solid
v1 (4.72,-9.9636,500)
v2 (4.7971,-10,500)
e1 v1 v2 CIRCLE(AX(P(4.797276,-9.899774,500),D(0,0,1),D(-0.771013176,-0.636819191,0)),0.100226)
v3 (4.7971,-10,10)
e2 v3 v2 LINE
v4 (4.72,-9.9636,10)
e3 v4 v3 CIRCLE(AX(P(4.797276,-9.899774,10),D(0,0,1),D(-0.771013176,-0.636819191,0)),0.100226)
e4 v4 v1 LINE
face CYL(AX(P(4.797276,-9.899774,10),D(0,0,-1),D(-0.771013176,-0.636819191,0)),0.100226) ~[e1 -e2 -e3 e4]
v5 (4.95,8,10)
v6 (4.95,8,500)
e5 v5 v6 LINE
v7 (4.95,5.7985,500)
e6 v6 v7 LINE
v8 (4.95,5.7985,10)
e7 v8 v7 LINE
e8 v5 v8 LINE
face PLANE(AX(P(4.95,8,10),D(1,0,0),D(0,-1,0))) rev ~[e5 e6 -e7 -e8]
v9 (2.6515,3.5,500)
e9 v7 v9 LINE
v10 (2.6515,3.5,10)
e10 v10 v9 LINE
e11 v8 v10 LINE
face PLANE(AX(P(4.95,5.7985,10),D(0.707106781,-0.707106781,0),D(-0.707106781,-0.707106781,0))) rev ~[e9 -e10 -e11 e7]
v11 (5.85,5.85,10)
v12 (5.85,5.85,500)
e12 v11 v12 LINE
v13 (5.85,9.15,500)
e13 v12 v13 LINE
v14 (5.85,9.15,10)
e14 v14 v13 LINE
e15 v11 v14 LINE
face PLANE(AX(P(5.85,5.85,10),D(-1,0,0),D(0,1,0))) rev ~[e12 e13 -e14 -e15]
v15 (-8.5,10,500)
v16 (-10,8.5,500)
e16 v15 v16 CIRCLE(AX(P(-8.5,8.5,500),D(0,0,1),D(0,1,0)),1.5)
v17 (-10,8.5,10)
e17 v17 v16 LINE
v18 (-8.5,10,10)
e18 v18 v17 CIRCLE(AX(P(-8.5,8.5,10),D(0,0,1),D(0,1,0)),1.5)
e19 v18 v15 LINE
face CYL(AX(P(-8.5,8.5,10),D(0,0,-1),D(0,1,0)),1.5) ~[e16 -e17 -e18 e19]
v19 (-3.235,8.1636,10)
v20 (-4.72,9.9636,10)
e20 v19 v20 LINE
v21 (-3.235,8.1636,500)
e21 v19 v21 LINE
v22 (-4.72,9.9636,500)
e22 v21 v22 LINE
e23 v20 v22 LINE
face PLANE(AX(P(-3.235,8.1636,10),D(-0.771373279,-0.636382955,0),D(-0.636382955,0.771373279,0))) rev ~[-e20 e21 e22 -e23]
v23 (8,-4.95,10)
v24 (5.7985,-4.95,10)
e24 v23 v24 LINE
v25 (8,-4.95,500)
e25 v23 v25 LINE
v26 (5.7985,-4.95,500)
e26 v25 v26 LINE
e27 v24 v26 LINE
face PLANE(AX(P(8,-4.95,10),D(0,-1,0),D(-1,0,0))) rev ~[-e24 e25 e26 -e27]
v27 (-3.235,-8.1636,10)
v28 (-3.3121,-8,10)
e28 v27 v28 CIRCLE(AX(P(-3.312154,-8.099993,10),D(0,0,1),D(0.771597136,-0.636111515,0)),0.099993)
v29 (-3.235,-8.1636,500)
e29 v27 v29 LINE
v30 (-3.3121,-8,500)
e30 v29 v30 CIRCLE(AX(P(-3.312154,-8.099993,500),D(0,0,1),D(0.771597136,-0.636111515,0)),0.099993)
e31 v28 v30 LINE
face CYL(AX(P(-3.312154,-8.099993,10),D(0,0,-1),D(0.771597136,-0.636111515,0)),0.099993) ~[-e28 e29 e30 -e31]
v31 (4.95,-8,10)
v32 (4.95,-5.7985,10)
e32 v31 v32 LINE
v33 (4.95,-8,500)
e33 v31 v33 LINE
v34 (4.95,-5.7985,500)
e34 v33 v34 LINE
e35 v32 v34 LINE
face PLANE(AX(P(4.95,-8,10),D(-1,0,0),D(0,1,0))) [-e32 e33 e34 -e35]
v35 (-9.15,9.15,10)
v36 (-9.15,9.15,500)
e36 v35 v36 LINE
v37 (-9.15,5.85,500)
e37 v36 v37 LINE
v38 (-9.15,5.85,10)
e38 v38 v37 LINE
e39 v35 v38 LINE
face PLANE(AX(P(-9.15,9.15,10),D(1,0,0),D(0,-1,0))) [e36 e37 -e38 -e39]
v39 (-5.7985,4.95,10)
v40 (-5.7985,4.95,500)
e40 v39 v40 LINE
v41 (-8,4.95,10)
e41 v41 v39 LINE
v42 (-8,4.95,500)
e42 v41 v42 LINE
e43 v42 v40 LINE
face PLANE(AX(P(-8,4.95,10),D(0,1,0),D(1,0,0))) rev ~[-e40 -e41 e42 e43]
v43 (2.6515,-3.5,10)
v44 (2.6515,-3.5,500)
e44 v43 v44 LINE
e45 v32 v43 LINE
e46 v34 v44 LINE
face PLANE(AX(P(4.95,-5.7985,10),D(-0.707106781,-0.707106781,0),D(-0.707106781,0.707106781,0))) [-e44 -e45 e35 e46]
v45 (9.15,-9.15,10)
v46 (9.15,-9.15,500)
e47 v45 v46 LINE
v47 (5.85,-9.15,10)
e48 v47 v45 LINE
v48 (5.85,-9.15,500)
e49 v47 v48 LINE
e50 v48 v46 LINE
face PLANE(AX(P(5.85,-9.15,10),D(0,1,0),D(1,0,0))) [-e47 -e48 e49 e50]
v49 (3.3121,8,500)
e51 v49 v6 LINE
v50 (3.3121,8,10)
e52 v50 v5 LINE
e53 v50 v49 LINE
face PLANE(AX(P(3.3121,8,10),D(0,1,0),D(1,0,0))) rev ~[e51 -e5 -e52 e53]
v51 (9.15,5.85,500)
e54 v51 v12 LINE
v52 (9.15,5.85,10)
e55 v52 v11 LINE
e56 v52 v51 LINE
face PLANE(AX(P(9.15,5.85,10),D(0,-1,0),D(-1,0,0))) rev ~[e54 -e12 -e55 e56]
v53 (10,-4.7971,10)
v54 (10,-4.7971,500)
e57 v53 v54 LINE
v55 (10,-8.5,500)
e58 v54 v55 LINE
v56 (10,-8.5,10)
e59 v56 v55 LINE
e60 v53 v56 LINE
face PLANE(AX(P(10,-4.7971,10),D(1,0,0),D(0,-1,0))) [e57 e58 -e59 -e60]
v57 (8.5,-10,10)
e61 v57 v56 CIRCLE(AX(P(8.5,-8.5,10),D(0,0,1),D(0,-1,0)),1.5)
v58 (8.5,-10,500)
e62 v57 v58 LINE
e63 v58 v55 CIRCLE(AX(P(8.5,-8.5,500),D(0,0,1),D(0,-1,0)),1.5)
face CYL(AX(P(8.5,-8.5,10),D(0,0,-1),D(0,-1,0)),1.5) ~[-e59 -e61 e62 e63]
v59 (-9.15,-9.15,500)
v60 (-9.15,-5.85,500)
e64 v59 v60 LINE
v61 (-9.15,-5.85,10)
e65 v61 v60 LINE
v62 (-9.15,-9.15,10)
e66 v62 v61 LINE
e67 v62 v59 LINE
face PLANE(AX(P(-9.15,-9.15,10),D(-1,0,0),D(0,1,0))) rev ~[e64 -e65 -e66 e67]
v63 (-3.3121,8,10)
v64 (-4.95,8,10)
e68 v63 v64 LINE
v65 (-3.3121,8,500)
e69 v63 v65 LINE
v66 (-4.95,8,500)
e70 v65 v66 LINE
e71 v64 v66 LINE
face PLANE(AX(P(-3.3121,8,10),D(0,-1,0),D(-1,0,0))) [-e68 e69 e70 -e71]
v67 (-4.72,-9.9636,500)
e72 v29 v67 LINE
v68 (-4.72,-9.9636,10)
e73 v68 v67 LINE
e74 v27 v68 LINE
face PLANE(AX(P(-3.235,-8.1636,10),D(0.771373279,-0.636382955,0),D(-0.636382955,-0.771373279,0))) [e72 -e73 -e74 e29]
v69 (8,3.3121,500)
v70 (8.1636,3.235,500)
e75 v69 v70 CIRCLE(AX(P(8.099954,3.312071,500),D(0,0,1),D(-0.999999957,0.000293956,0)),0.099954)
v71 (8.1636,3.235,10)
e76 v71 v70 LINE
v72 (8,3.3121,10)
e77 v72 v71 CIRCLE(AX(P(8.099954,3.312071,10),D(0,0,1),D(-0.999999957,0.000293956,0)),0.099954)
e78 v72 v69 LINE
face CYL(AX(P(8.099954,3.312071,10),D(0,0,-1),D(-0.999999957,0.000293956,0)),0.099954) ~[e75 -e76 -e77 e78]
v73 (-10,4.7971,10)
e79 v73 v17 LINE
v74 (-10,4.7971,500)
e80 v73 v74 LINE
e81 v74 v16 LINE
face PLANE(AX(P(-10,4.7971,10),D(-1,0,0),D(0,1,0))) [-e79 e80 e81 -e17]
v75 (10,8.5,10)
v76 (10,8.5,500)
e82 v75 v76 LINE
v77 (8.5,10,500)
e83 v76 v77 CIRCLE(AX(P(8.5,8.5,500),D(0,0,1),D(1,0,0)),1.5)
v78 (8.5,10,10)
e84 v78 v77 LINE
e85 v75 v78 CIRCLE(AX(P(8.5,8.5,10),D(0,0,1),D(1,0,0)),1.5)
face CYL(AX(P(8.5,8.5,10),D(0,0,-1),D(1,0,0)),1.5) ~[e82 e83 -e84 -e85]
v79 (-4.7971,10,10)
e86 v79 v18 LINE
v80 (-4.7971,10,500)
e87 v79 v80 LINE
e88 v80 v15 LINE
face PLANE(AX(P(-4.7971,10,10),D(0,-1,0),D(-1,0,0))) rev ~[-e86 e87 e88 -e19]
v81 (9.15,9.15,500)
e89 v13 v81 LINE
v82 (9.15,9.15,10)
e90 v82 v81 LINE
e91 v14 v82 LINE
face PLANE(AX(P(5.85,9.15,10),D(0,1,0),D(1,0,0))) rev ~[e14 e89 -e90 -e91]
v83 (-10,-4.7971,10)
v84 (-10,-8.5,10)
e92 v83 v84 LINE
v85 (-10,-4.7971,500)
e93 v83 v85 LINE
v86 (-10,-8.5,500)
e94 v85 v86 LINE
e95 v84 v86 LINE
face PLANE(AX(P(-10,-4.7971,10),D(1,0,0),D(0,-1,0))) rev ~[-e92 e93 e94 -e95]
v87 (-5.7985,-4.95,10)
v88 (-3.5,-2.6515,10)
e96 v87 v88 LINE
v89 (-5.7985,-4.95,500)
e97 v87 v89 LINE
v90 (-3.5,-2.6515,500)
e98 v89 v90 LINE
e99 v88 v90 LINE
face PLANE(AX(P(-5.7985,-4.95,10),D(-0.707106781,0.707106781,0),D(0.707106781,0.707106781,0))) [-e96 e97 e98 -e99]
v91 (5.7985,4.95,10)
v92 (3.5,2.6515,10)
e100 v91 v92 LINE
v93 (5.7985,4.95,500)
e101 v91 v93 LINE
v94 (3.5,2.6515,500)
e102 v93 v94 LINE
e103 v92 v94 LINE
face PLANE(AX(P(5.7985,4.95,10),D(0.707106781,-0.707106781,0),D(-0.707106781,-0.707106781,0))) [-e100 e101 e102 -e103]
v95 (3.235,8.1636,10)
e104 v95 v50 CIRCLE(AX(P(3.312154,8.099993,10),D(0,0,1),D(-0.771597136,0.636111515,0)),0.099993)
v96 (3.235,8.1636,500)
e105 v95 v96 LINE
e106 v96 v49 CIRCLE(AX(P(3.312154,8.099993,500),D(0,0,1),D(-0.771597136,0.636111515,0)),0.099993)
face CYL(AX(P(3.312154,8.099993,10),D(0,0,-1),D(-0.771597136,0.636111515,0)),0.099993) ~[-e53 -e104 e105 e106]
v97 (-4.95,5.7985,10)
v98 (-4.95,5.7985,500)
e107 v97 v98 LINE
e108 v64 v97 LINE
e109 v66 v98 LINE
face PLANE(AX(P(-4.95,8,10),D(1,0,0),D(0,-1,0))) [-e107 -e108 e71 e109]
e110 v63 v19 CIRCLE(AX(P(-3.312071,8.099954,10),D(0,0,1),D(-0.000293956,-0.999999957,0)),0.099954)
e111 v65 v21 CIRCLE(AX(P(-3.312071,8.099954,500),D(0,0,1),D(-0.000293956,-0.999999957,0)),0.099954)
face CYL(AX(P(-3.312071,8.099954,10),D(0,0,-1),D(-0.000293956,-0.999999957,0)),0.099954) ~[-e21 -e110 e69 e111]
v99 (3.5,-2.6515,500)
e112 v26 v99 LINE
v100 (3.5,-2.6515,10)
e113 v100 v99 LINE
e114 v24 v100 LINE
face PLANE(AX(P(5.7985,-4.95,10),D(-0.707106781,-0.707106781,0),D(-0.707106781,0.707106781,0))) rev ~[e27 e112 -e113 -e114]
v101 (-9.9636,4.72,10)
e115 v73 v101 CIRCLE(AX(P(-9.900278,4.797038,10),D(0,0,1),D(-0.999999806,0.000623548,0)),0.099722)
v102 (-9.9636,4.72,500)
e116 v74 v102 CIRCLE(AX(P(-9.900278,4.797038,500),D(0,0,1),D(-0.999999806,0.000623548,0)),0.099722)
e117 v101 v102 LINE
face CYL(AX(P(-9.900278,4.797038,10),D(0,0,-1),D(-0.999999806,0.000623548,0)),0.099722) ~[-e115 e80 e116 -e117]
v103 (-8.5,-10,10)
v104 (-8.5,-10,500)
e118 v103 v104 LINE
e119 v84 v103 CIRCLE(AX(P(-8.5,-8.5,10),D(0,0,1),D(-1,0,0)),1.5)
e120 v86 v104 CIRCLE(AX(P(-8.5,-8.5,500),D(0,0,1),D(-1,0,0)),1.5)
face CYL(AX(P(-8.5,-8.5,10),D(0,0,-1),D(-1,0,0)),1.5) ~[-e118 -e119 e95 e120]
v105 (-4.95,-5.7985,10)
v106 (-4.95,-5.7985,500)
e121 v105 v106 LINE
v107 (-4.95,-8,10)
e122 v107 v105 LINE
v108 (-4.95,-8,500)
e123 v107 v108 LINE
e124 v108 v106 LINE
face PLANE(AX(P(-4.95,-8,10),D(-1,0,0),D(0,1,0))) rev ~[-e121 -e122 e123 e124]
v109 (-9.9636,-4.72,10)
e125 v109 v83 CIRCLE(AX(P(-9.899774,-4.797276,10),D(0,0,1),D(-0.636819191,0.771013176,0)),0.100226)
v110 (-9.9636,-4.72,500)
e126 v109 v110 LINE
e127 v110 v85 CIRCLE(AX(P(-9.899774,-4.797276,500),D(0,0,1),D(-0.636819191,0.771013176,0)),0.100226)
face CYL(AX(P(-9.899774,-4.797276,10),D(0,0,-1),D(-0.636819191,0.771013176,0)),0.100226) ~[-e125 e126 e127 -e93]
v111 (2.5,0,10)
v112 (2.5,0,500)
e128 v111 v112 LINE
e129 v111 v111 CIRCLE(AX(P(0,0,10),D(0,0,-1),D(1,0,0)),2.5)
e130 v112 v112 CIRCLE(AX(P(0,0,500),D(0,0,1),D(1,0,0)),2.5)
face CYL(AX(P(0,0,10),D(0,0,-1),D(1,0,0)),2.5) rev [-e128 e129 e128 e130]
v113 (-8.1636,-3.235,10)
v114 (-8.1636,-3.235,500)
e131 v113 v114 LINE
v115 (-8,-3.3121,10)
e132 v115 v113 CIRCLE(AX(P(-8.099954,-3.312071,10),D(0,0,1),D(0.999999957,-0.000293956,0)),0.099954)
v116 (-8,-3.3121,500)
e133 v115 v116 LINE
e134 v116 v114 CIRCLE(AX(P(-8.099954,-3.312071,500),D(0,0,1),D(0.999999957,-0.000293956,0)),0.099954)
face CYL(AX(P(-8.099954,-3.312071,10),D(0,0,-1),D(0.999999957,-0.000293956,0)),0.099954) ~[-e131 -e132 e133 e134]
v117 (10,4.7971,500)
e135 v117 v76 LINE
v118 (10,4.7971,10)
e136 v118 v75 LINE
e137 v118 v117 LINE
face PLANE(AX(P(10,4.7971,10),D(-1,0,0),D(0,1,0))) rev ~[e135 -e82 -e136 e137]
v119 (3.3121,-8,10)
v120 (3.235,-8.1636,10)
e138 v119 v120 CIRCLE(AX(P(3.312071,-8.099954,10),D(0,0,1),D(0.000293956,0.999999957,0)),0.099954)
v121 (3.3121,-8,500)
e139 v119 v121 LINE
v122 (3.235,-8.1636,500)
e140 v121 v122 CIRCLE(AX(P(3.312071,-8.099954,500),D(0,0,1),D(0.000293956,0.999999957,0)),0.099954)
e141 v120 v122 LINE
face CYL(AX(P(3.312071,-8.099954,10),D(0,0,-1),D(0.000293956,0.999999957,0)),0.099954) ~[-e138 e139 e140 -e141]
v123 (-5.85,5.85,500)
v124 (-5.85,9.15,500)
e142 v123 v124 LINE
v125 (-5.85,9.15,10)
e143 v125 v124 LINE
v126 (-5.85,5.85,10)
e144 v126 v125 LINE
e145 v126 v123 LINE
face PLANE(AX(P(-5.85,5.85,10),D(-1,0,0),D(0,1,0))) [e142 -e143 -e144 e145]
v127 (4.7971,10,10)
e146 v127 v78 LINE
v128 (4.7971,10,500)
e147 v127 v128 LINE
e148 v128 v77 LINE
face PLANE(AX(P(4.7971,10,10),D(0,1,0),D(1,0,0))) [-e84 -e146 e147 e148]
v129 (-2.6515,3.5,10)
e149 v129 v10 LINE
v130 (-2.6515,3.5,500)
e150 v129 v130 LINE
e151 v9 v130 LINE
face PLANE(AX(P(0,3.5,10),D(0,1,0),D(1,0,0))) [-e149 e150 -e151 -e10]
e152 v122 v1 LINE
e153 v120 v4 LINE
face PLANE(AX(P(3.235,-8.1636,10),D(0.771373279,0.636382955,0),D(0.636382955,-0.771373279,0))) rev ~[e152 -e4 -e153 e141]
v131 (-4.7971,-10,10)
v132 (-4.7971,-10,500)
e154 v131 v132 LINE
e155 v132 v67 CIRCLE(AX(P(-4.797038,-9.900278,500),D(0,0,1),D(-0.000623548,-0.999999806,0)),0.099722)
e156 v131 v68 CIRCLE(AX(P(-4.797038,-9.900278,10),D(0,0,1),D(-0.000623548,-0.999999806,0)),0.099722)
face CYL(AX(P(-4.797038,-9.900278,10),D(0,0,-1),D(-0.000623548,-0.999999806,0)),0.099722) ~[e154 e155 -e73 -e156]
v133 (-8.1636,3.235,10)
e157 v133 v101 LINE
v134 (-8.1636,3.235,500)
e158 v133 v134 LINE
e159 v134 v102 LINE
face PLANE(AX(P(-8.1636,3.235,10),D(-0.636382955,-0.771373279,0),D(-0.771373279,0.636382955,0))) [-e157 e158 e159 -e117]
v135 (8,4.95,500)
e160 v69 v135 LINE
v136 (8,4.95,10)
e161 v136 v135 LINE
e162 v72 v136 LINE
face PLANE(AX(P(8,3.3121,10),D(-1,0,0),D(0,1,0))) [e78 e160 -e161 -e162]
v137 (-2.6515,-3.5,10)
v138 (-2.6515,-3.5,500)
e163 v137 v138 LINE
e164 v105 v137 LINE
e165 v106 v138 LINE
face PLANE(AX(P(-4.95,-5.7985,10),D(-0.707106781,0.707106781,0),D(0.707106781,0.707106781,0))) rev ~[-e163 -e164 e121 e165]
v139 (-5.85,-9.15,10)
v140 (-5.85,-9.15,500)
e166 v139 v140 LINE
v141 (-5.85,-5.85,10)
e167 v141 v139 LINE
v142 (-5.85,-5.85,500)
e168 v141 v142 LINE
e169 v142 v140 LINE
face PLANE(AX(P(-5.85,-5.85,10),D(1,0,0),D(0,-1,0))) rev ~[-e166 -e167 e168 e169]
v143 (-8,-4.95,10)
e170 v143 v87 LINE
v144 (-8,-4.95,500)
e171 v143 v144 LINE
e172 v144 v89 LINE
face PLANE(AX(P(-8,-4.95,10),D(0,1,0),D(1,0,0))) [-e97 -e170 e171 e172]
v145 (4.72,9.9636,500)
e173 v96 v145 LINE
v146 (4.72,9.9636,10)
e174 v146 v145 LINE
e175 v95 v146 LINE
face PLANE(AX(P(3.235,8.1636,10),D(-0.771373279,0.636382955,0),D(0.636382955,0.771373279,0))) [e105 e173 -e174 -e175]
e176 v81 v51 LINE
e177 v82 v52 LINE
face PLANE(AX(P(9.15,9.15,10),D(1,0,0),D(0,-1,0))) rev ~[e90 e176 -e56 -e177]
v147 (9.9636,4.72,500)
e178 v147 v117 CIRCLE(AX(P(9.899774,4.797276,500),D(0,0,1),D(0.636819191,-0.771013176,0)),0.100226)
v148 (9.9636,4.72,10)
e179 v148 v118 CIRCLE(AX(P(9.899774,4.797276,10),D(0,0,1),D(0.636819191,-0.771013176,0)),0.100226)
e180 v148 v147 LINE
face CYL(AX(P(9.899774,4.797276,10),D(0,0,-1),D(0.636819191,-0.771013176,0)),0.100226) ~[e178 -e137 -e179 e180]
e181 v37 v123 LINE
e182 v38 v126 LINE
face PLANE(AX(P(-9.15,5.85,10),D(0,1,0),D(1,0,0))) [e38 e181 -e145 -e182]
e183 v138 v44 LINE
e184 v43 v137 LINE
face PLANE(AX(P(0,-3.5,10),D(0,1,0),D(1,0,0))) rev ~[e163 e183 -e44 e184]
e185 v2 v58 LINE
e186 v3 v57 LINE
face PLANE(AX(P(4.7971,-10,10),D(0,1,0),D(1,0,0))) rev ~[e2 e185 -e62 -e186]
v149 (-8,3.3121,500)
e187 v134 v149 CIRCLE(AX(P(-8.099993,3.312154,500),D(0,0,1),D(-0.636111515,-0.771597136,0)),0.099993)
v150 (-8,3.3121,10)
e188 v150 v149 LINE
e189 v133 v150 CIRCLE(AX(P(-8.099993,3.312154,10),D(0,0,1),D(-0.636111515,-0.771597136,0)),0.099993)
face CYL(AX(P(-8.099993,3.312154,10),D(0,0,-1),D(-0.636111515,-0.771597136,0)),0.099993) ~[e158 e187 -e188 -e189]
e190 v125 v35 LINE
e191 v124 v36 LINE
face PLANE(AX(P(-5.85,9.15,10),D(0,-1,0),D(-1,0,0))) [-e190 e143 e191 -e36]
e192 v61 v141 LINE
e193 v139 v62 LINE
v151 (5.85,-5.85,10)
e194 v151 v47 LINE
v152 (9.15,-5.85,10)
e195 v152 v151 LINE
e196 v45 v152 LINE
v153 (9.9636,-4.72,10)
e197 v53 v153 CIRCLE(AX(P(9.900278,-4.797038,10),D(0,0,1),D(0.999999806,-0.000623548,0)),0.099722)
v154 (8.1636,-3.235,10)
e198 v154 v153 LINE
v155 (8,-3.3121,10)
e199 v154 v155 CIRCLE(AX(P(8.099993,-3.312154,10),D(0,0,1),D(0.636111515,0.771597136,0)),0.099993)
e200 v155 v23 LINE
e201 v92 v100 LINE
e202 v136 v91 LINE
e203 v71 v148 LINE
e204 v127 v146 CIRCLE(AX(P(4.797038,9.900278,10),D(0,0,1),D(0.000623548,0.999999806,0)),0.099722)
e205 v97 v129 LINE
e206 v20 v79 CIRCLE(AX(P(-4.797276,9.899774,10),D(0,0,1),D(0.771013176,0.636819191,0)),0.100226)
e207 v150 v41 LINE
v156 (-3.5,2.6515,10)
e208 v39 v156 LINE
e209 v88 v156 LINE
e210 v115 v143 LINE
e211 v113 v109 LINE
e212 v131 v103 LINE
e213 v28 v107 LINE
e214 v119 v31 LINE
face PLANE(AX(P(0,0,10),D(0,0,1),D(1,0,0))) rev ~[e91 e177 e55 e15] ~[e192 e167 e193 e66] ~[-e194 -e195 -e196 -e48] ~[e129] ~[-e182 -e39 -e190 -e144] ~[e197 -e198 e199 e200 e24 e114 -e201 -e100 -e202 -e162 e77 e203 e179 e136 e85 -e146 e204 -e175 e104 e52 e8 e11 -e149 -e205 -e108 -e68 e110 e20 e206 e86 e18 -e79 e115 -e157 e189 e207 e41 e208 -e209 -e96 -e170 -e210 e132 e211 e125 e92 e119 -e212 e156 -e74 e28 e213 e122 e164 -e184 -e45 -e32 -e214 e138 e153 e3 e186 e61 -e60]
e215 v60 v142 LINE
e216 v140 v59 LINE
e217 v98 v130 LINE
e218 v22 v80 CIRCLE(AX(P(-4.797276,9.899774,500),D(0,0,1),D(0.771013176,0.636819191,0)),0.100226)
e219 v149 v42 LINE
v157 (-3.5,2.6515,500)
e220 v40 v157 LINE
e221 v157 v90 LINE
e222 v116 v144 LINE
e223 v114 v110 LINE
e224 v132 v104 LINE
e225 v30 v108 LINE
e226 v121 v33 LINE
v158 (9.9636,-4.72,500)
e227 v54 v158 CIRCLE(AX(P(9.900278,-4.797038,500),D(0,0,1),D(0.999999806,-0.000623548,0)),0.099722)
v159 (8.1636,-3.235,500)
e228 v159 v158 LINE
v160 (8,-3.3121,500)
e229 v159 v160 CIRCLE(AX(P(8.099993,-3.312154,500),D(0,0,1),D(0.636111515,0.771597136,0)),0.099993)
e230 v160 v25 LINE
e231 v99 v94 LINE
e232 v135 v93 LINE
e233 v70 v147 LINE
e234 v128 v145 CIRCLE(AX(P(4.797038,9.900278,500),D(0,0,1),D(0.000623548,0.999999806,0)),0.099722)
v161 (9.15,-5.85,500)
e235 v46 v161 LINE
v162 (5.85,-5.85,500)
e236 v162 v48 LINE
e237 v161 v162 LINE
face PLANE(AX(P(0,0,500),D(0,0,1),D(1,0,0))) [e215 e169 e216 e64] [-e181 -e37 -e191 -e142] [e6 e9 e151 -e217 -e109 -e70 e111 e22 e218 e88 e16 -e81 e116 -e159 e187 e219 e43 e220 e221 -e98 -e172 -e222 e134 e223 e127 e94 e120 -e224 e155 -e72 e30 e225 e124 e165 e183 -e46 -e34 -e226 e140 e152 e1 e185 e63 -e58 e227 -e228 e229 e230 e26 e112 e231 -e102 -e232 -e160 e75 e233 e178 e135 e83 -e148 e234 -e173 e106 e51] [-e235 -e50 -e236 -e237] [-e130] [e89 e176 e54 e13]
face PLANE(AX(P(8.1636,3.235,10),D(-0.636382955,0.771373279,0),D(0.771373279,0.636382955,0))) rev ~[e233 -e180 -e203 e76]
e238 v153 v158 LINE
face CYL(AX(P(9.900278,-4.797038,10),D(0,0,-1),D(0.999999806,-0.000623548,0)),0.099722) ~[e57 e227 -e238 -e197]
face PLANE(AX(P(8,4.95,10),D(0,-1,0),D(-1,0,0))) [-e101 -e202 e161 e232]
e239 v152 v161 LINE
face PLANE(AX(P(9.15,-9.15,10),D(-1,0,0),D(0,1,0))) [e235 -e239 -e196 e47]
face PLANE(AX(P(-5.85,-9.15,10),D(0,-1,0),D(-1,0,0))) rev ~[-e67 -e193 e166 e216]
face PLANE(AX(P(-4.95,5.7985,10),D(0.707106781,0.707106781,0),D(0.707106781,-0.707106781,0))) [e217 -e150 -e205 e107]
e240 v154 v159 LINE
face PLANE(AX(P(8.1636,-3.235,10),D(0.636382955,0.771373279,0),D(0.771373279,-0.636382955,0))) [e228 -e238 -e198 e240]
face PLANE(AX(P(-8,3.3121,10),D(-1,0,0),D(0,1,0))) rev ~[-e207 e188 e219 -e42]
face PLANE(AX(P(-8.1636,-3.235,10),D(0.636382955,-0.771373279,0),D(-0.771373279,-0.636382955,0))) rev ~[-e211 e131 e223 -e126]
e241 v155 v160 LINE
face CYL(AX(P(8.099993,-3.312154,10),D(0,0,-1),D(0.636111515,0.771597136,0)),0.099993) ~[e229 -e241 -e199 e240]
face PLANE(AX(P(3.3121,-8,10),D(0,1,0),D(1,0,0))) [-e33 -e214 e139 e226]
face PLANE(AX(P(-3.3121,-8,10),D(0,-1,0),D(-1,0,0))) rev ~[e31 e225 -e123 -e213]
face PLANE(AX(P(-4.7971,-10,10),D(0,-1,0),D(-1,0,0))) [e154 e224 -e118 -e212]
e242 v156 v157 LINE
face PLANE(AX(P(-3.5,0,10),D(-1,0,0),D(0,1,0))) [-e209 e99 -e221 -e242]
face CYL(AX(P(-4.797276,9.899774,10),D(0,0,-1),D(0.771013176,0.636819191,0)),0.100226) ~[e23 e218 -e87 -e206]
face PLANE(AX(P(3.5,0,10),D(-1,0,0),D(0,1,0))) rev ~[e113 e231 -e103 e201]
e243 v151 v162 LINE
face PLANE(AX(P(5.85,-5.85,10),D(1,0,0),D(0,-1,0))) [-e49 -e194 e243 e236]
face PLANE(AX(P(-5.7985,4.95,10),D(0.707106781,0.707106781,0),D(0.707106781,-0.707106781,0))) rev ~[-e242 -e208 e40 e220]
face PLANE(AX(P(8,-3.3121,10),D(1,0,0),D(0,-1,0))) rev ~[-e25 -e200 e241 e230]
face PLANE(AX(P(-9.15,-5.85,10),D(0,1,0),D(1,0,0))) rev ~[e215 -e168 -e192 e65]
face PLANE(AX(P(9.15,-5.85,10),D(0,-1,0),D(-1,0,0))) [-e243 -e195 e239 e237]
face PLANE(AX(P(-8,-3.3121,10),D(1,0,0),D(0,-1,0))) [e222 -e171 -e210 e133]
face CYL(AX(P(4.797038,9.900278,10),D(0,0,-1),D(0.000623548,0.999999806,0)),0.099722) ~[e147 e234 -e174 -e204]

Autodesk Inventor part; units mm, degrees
ref_plane "Начальная плоскость" through (0, 0, 10) normal (0, 0, 1) x (1, 0, 0)
ref_plane "Конечная плоскость" through (0, 0, 500) normal (0, 0, 1) x (1, 0, 0)
sketch "Эскиз" plane through (0, 0, 0) normal (0, 0, 1) x (1, 0, 0)
  line L0 (-14.4349, 0) -> (14.4349, 0) projected
  line L1 (0, -14) -> (0, 14) projected
  line L2 (0, 0) -> (7.5, 7.5) construction
  circle A0 centre (7.5, 7.5) radius 1.65 construction
  line L3 (5.85, 9.15) -> (9.15, 9.15)
  line L4 (9.15, 9.15) -> (9.15, 5.85)
  line L5 (9.15, 5.85) -> (5.85, 5.85)
  line L6 (5.85, 5.85) -> (5.85, 9.15)
  line L7 (3.235, 8.1636) -> (4.72, 9.9636)
  line L8 (4.7971, 10) -> (8.5, 10)
  line L9 (3.3121, 8) -> (4.95, 8)
  line L10 (4.95, 8) -> (4.95, 5.7985)
  line L11 (4.95, 5.7985) -> (2.6515, 3.5)
  line L12 (0, 3.5) -> (2.6515, 3.5)
  circle A1 centre (0, 0) radius 2.5
  line L13 (8.1636, 3.235) -> (9.9636, 4.72)
  line L14 (10, 4.7971) -> (10, 8.5)
  line L15 (8, 3.3121) -> (8, 4.95)
  line L16 (8, 4.95) -> (5.7985, 4.95)
  line L17 (5.7985, 4.95) -> (3.5, 2.6515)
  line L18 (3.5, 0) -> (3.5, 2.6515)
  arc A2 (10, 8.5) -> (8.5, 10) centre (8.5, 8.5) ccw
  line L19 (0, 0) -> (-7.5, 7.5) construction
  circle A3 centre (-7.5, 7.5) radius 1.65 construction
  line L20 (-5.85, 9.15) -> (-9.15, 9.15)
  line L21 (-9.15, 9.15) -> (-9.15, 5.85)
  line L22 (-9.15, 5.85) -> (-5.85, 5.85)
  line L23 (-5.85, 5.85) -> (-5.85, 9.15)
  line L24 (-3.235, 8.1636) -> (-4.72, 9.9636)
  line L25 (-4.7971, 10) -> (-8.5, 10)
  line L26 (-3.3121, 8) -> (-4.95, 8)
  line L27 (-4.95, 8) -> (-4.95, 5.7985)
  line L28 (-4.95, 5.7985) -> (-2.6515, 3.5)
  line L29 (0, 3.5) -> (-2.6515, 3.5)
  line L30 (-3.5, 0) -> (-3.5, 2.6515)
  line L31 (-5.7985, 4.95) -> (-3.5, 2.6515)
  line L32 (-8, 4.95) -> (-5.7985, 4.95)
  line L33 (-8, 3.3121) -> (-8, 4.95)
  line L34 (-8.1636, 3.235) -> (-9.9636, 4.72)
  line L35 (-10, 4.7971) -> (-10, 8.5)
  arc A4 (-8.5, 10) -> (-10, 8.5) centre (-8.5, 8.5) ccw
  line L36 (0, 14) -> (0, -14)
  line L37 (0, 0) -> (7.5, -7.5) construction
  circle A5 centre (7.5, -7.5) radius 1.65 construction
  line L38 (5.85, -9.15) -> (9.15, -9.15)
  line L39 (9.15, -9.15) -> (9.15, -5.85)
  line L40 (9.15, -5.85) -> (5.85, -5.85)
  line L41 (5.85, -5.85) -> (5.85, -9.15)
  line L42 (3.235, -8.1636) -> (4.72, -9.9636)
  line L43 (4.7971, -10) -> (8.5, -10)
  line L44 (3.3121, -8) -> (4.95, -8)
  line L45 (4.95, -8) -> (4.95, -5.7985)
  line L46 (4.95, -5.7985) -> (2.6515, -3.5)
  line L47 (0, -3.5) -> (2.6515, -3.5)
  line L48 (3.5, 0) -> (3.5, -2.6515)
  line L49 (5.7985, -4.95) -> (3.5, -2.6515)
  line L50 (8, -4.95) -> (5.7985, -4.95)
  line L51 (8, -3.3121) -> (8, -4.95)
  line L52 (8.1636, -3.235) -> (9.9636, -4.72)
  line L53 (10, -4.7971) -> (10, -8.5)
  arc A6 (8.5, -10) -> (10, -8.5) centre (8.5, -8.5) ccw
  line L54 (0, 0) -> (-7.5, -7.5) construction
  line L55 (-4.95, -8) -> (-4.95, -5.7985)
  line L56 (-3.3121, -8) -> (-4.95, -8)
  line L57 (-5.7985, -4.95) -> (-3.5, -2.6515)
  line L58 (-4.95, -5.7985) -> (-2.6515, -3.5)
  line L59 (-3.5, 0) -> (-3.5, -2.6515)
  line L60 (0, -3.5) -> (-2.6515, -3.5)
  circle A7 centre (-7.5, -7.5) radius 1.65 construction
  line L61 (-5.85, -5.85) -> (-5.85, -9.15)
  line L62 (-5.85, -9.15) -> (-9.15, -9.15)
  line L63 (-9.15, -9.15) -> (-9.15, -5.85)
  line L64 (-9.15, -5.85) -> (-5.85, -5.85)
  line L65 (-3.235, -8.1636) -> (-4.72, -9.9636)
  line L66 (-8, -4.95) -> (-5.7985, -4.95)
  line L67 (-8, -3.3121) -> (-8, -4.95)
  line L68 (-8.1636, -3.235) -> (-9.9636, -4.72)
  line L69 (-4.7971, -10) -> (-8.5, -10)
  line L70 (-10, -4.7971) -> (-10, -8.5)
  arc A8 (-10, -8.5) -> (-8.5, -10) centre (-8.5, -8.5) ccw
  arc A9 (3.235, 8.1636) -> (3.3121, 8) centre (3.3121, 8.1) ccw
  arc A10 (4.7971, 10) -> (4.72, 9.9636) centre (4.7971, 9.9) ccw
  arc A11 (8, 3.3121) -> (8.1636, 3.235) centre (8.1, 3.3121) ccw
  arc A12 (9.9636, 4.72) -> (10, 4.7971) centre (9.9, 4.7971) ccw
  arc A13 (-3.3121, 8) -> (-3.235, 8.1636) centre (-3.3121, 8.1) ccw
  arc A14 (-4.72, 9.9636) -> (-4.7971, 10) centre (-4.7971, 9.9) ccw
  arc A15 (-8.1636, 3.235) -> (-8, 3.3121) centre (-8.1, 3.3121) ccw
  arc A16 (-10, 4.7971) -> (-9.9636, 4.72) centre (-9.9, 4.7971) ccw
  arc A17 (-8, -3.3121) -> (-8.1636, -3.235) centre (-8.1, -3.3121) ccw
  arc A18 (-9.9636, -4.72) -> (-10, -4.7971) centre (-9.9, -4.7971) ccw
  arc A19 (-3.235, -8.1636) -> (-3.3121, -8) centre (-3.3121, -8.1) ccw
  arc A20 (-4.7971, -10) -> (-4.72, -9.9636) centre (-4.7971, -9.9) ccw
  arc A21 (4.72, -9.9636) -> (4.7971, -10) centre (4.7971, -9.9) ccw
  arc A22 (3.3121, -8) -> (3.235, -8.1636) centre (3.3121, -8.1) ccw
  arc A23 (8.1636, -3.235) -> (8, -3.3121) centre (8.1, -3.3121) ccw
  arc A24 (10, -4.7971) -> (9.9636, -4.72) centre (9.9, -4.7971) ccw
  point P0 (3.1, 8)
  point P1 (4.75, 10)
  point P2 (7.5, 9.15)
  point P3 (8, 3.1)
  point P4 (10, 4.75)
  point P5 (7.5, 5.85)
  point P6 (9.15, 7.5)
  point P7 (-3.1, 8)
  point P8 (-4.75, 10)
  point P9 (-7.5, 9.15)
  point P10 (-8, 3.1)
  point P11 (-10, 4.75)
  point P12 (-7.5, 5.85)
  point P13 (-9.15, 7.5)
  point P14 (3.1, -8)
  point P15 (4.75, -10)
  point P16 (7.5, -9.15)
  point P17 (8, -3.1)
  point P18 (10, -4.75)
  point P19 (7.5, -5.85)
  point P20 (9.15, -7.5)
  point P21 (-3.1, -8)
  point P22 (-7.5, -5.85)
  point P23 (-7.5, -9.15)
  point P24 (-9.15, -7.5)
  point P25 (-4.75, -10)
  point P26 (-8, -3.1)
  point P27 (-10, -4.75)
  dimension "d0" = 45
  dimension "d1" = 3.3
  dimension "d2" = 1.5
  dimension "d3" = 1.2
  dimension "d4" = 5
  dimension "d5" = 6.5
  dimension "d6" = 15
  dimension "d7" = 20
  dimension "d8" = 9.9
  dimension "d9" = 9.5
  dimension "d10" = 6.2
  dimension "d11" = 2
  dimension "d18" = 0.1
  dimension "d19" = 0.1
extrude "Тело" add sketch "Эскиз" along normal up to surface (490 mm away) from surface at 10 contours A1 L1 L12 L11 L10 L9 A9 L7 A10 L8 A2 L14 A12 L13 A11 L15 L16 L17 L18 L0 | L0 L48 L49 L50 L51 A23 L52 A24 L53 A6 L43 A21 L42 A22 L44 L45 L46 L47 L1 A1 | A1 L0 L30 L31 L32 L33 A15 L34 A16 L35 A4 L25 A14 L24 A13 L26 L27 L28 L29 L1 | L1 L60 L58 L55 L56 A19 L65 A20 L69 A8 L70 A18 L68 A17 L67 L66 L57 L59 L0 A1
sketch "Эскиз2" plane through (0, 0, 0) normal (0, 0, 1) x (1, 0, 0)
  line L0 (0, 0) -> (10, 0)
ref_plane "РабПлоскость3" through (0, 0, 0) normal (0, -1, 0) x (1, 0, 0)
sketch "Эскиз3" plane through (0, 0, 0) normal (0, -1, 0) x (1, 0, 0)
  line L0 (-2, 10) -> (12, 10)
  line L1 (-2, 500) -> (12, 500)
  dimension "d25" = 490
ref_plane "РабПлоскость4" through (0, 0, 10) normal (0, 0, -1) x (-1, 0, 0)
split "Разделение1" plane through (0, 0, 10) removes the side toward (0, 0, -1)
ref_plane "РабПлоскость5" through (0, -40, -10) normal (0, 0, -1) x (-1, 0, 0)
split "Разделение2" plane through (0, -40, -10) removes the side toward (0, 0, -1)
ref_plane "РабПлоскость6" through (330, 0, 500) normal (0, 0, 1) x (1, 0, 0)
split "Разделение3" plane through (330, 0, 500) removes the side toward (0, 0, 1)
ref_plane "РабПлоскость7" through (0, -10, 500) normal (0, 0, 1) x (1, 0, 0)
split "Разделение4" plane through (0, -10, 500) removes the side toward (0, 0, 1)
properties part number "короткая палка" material "Алюминий 6061"
